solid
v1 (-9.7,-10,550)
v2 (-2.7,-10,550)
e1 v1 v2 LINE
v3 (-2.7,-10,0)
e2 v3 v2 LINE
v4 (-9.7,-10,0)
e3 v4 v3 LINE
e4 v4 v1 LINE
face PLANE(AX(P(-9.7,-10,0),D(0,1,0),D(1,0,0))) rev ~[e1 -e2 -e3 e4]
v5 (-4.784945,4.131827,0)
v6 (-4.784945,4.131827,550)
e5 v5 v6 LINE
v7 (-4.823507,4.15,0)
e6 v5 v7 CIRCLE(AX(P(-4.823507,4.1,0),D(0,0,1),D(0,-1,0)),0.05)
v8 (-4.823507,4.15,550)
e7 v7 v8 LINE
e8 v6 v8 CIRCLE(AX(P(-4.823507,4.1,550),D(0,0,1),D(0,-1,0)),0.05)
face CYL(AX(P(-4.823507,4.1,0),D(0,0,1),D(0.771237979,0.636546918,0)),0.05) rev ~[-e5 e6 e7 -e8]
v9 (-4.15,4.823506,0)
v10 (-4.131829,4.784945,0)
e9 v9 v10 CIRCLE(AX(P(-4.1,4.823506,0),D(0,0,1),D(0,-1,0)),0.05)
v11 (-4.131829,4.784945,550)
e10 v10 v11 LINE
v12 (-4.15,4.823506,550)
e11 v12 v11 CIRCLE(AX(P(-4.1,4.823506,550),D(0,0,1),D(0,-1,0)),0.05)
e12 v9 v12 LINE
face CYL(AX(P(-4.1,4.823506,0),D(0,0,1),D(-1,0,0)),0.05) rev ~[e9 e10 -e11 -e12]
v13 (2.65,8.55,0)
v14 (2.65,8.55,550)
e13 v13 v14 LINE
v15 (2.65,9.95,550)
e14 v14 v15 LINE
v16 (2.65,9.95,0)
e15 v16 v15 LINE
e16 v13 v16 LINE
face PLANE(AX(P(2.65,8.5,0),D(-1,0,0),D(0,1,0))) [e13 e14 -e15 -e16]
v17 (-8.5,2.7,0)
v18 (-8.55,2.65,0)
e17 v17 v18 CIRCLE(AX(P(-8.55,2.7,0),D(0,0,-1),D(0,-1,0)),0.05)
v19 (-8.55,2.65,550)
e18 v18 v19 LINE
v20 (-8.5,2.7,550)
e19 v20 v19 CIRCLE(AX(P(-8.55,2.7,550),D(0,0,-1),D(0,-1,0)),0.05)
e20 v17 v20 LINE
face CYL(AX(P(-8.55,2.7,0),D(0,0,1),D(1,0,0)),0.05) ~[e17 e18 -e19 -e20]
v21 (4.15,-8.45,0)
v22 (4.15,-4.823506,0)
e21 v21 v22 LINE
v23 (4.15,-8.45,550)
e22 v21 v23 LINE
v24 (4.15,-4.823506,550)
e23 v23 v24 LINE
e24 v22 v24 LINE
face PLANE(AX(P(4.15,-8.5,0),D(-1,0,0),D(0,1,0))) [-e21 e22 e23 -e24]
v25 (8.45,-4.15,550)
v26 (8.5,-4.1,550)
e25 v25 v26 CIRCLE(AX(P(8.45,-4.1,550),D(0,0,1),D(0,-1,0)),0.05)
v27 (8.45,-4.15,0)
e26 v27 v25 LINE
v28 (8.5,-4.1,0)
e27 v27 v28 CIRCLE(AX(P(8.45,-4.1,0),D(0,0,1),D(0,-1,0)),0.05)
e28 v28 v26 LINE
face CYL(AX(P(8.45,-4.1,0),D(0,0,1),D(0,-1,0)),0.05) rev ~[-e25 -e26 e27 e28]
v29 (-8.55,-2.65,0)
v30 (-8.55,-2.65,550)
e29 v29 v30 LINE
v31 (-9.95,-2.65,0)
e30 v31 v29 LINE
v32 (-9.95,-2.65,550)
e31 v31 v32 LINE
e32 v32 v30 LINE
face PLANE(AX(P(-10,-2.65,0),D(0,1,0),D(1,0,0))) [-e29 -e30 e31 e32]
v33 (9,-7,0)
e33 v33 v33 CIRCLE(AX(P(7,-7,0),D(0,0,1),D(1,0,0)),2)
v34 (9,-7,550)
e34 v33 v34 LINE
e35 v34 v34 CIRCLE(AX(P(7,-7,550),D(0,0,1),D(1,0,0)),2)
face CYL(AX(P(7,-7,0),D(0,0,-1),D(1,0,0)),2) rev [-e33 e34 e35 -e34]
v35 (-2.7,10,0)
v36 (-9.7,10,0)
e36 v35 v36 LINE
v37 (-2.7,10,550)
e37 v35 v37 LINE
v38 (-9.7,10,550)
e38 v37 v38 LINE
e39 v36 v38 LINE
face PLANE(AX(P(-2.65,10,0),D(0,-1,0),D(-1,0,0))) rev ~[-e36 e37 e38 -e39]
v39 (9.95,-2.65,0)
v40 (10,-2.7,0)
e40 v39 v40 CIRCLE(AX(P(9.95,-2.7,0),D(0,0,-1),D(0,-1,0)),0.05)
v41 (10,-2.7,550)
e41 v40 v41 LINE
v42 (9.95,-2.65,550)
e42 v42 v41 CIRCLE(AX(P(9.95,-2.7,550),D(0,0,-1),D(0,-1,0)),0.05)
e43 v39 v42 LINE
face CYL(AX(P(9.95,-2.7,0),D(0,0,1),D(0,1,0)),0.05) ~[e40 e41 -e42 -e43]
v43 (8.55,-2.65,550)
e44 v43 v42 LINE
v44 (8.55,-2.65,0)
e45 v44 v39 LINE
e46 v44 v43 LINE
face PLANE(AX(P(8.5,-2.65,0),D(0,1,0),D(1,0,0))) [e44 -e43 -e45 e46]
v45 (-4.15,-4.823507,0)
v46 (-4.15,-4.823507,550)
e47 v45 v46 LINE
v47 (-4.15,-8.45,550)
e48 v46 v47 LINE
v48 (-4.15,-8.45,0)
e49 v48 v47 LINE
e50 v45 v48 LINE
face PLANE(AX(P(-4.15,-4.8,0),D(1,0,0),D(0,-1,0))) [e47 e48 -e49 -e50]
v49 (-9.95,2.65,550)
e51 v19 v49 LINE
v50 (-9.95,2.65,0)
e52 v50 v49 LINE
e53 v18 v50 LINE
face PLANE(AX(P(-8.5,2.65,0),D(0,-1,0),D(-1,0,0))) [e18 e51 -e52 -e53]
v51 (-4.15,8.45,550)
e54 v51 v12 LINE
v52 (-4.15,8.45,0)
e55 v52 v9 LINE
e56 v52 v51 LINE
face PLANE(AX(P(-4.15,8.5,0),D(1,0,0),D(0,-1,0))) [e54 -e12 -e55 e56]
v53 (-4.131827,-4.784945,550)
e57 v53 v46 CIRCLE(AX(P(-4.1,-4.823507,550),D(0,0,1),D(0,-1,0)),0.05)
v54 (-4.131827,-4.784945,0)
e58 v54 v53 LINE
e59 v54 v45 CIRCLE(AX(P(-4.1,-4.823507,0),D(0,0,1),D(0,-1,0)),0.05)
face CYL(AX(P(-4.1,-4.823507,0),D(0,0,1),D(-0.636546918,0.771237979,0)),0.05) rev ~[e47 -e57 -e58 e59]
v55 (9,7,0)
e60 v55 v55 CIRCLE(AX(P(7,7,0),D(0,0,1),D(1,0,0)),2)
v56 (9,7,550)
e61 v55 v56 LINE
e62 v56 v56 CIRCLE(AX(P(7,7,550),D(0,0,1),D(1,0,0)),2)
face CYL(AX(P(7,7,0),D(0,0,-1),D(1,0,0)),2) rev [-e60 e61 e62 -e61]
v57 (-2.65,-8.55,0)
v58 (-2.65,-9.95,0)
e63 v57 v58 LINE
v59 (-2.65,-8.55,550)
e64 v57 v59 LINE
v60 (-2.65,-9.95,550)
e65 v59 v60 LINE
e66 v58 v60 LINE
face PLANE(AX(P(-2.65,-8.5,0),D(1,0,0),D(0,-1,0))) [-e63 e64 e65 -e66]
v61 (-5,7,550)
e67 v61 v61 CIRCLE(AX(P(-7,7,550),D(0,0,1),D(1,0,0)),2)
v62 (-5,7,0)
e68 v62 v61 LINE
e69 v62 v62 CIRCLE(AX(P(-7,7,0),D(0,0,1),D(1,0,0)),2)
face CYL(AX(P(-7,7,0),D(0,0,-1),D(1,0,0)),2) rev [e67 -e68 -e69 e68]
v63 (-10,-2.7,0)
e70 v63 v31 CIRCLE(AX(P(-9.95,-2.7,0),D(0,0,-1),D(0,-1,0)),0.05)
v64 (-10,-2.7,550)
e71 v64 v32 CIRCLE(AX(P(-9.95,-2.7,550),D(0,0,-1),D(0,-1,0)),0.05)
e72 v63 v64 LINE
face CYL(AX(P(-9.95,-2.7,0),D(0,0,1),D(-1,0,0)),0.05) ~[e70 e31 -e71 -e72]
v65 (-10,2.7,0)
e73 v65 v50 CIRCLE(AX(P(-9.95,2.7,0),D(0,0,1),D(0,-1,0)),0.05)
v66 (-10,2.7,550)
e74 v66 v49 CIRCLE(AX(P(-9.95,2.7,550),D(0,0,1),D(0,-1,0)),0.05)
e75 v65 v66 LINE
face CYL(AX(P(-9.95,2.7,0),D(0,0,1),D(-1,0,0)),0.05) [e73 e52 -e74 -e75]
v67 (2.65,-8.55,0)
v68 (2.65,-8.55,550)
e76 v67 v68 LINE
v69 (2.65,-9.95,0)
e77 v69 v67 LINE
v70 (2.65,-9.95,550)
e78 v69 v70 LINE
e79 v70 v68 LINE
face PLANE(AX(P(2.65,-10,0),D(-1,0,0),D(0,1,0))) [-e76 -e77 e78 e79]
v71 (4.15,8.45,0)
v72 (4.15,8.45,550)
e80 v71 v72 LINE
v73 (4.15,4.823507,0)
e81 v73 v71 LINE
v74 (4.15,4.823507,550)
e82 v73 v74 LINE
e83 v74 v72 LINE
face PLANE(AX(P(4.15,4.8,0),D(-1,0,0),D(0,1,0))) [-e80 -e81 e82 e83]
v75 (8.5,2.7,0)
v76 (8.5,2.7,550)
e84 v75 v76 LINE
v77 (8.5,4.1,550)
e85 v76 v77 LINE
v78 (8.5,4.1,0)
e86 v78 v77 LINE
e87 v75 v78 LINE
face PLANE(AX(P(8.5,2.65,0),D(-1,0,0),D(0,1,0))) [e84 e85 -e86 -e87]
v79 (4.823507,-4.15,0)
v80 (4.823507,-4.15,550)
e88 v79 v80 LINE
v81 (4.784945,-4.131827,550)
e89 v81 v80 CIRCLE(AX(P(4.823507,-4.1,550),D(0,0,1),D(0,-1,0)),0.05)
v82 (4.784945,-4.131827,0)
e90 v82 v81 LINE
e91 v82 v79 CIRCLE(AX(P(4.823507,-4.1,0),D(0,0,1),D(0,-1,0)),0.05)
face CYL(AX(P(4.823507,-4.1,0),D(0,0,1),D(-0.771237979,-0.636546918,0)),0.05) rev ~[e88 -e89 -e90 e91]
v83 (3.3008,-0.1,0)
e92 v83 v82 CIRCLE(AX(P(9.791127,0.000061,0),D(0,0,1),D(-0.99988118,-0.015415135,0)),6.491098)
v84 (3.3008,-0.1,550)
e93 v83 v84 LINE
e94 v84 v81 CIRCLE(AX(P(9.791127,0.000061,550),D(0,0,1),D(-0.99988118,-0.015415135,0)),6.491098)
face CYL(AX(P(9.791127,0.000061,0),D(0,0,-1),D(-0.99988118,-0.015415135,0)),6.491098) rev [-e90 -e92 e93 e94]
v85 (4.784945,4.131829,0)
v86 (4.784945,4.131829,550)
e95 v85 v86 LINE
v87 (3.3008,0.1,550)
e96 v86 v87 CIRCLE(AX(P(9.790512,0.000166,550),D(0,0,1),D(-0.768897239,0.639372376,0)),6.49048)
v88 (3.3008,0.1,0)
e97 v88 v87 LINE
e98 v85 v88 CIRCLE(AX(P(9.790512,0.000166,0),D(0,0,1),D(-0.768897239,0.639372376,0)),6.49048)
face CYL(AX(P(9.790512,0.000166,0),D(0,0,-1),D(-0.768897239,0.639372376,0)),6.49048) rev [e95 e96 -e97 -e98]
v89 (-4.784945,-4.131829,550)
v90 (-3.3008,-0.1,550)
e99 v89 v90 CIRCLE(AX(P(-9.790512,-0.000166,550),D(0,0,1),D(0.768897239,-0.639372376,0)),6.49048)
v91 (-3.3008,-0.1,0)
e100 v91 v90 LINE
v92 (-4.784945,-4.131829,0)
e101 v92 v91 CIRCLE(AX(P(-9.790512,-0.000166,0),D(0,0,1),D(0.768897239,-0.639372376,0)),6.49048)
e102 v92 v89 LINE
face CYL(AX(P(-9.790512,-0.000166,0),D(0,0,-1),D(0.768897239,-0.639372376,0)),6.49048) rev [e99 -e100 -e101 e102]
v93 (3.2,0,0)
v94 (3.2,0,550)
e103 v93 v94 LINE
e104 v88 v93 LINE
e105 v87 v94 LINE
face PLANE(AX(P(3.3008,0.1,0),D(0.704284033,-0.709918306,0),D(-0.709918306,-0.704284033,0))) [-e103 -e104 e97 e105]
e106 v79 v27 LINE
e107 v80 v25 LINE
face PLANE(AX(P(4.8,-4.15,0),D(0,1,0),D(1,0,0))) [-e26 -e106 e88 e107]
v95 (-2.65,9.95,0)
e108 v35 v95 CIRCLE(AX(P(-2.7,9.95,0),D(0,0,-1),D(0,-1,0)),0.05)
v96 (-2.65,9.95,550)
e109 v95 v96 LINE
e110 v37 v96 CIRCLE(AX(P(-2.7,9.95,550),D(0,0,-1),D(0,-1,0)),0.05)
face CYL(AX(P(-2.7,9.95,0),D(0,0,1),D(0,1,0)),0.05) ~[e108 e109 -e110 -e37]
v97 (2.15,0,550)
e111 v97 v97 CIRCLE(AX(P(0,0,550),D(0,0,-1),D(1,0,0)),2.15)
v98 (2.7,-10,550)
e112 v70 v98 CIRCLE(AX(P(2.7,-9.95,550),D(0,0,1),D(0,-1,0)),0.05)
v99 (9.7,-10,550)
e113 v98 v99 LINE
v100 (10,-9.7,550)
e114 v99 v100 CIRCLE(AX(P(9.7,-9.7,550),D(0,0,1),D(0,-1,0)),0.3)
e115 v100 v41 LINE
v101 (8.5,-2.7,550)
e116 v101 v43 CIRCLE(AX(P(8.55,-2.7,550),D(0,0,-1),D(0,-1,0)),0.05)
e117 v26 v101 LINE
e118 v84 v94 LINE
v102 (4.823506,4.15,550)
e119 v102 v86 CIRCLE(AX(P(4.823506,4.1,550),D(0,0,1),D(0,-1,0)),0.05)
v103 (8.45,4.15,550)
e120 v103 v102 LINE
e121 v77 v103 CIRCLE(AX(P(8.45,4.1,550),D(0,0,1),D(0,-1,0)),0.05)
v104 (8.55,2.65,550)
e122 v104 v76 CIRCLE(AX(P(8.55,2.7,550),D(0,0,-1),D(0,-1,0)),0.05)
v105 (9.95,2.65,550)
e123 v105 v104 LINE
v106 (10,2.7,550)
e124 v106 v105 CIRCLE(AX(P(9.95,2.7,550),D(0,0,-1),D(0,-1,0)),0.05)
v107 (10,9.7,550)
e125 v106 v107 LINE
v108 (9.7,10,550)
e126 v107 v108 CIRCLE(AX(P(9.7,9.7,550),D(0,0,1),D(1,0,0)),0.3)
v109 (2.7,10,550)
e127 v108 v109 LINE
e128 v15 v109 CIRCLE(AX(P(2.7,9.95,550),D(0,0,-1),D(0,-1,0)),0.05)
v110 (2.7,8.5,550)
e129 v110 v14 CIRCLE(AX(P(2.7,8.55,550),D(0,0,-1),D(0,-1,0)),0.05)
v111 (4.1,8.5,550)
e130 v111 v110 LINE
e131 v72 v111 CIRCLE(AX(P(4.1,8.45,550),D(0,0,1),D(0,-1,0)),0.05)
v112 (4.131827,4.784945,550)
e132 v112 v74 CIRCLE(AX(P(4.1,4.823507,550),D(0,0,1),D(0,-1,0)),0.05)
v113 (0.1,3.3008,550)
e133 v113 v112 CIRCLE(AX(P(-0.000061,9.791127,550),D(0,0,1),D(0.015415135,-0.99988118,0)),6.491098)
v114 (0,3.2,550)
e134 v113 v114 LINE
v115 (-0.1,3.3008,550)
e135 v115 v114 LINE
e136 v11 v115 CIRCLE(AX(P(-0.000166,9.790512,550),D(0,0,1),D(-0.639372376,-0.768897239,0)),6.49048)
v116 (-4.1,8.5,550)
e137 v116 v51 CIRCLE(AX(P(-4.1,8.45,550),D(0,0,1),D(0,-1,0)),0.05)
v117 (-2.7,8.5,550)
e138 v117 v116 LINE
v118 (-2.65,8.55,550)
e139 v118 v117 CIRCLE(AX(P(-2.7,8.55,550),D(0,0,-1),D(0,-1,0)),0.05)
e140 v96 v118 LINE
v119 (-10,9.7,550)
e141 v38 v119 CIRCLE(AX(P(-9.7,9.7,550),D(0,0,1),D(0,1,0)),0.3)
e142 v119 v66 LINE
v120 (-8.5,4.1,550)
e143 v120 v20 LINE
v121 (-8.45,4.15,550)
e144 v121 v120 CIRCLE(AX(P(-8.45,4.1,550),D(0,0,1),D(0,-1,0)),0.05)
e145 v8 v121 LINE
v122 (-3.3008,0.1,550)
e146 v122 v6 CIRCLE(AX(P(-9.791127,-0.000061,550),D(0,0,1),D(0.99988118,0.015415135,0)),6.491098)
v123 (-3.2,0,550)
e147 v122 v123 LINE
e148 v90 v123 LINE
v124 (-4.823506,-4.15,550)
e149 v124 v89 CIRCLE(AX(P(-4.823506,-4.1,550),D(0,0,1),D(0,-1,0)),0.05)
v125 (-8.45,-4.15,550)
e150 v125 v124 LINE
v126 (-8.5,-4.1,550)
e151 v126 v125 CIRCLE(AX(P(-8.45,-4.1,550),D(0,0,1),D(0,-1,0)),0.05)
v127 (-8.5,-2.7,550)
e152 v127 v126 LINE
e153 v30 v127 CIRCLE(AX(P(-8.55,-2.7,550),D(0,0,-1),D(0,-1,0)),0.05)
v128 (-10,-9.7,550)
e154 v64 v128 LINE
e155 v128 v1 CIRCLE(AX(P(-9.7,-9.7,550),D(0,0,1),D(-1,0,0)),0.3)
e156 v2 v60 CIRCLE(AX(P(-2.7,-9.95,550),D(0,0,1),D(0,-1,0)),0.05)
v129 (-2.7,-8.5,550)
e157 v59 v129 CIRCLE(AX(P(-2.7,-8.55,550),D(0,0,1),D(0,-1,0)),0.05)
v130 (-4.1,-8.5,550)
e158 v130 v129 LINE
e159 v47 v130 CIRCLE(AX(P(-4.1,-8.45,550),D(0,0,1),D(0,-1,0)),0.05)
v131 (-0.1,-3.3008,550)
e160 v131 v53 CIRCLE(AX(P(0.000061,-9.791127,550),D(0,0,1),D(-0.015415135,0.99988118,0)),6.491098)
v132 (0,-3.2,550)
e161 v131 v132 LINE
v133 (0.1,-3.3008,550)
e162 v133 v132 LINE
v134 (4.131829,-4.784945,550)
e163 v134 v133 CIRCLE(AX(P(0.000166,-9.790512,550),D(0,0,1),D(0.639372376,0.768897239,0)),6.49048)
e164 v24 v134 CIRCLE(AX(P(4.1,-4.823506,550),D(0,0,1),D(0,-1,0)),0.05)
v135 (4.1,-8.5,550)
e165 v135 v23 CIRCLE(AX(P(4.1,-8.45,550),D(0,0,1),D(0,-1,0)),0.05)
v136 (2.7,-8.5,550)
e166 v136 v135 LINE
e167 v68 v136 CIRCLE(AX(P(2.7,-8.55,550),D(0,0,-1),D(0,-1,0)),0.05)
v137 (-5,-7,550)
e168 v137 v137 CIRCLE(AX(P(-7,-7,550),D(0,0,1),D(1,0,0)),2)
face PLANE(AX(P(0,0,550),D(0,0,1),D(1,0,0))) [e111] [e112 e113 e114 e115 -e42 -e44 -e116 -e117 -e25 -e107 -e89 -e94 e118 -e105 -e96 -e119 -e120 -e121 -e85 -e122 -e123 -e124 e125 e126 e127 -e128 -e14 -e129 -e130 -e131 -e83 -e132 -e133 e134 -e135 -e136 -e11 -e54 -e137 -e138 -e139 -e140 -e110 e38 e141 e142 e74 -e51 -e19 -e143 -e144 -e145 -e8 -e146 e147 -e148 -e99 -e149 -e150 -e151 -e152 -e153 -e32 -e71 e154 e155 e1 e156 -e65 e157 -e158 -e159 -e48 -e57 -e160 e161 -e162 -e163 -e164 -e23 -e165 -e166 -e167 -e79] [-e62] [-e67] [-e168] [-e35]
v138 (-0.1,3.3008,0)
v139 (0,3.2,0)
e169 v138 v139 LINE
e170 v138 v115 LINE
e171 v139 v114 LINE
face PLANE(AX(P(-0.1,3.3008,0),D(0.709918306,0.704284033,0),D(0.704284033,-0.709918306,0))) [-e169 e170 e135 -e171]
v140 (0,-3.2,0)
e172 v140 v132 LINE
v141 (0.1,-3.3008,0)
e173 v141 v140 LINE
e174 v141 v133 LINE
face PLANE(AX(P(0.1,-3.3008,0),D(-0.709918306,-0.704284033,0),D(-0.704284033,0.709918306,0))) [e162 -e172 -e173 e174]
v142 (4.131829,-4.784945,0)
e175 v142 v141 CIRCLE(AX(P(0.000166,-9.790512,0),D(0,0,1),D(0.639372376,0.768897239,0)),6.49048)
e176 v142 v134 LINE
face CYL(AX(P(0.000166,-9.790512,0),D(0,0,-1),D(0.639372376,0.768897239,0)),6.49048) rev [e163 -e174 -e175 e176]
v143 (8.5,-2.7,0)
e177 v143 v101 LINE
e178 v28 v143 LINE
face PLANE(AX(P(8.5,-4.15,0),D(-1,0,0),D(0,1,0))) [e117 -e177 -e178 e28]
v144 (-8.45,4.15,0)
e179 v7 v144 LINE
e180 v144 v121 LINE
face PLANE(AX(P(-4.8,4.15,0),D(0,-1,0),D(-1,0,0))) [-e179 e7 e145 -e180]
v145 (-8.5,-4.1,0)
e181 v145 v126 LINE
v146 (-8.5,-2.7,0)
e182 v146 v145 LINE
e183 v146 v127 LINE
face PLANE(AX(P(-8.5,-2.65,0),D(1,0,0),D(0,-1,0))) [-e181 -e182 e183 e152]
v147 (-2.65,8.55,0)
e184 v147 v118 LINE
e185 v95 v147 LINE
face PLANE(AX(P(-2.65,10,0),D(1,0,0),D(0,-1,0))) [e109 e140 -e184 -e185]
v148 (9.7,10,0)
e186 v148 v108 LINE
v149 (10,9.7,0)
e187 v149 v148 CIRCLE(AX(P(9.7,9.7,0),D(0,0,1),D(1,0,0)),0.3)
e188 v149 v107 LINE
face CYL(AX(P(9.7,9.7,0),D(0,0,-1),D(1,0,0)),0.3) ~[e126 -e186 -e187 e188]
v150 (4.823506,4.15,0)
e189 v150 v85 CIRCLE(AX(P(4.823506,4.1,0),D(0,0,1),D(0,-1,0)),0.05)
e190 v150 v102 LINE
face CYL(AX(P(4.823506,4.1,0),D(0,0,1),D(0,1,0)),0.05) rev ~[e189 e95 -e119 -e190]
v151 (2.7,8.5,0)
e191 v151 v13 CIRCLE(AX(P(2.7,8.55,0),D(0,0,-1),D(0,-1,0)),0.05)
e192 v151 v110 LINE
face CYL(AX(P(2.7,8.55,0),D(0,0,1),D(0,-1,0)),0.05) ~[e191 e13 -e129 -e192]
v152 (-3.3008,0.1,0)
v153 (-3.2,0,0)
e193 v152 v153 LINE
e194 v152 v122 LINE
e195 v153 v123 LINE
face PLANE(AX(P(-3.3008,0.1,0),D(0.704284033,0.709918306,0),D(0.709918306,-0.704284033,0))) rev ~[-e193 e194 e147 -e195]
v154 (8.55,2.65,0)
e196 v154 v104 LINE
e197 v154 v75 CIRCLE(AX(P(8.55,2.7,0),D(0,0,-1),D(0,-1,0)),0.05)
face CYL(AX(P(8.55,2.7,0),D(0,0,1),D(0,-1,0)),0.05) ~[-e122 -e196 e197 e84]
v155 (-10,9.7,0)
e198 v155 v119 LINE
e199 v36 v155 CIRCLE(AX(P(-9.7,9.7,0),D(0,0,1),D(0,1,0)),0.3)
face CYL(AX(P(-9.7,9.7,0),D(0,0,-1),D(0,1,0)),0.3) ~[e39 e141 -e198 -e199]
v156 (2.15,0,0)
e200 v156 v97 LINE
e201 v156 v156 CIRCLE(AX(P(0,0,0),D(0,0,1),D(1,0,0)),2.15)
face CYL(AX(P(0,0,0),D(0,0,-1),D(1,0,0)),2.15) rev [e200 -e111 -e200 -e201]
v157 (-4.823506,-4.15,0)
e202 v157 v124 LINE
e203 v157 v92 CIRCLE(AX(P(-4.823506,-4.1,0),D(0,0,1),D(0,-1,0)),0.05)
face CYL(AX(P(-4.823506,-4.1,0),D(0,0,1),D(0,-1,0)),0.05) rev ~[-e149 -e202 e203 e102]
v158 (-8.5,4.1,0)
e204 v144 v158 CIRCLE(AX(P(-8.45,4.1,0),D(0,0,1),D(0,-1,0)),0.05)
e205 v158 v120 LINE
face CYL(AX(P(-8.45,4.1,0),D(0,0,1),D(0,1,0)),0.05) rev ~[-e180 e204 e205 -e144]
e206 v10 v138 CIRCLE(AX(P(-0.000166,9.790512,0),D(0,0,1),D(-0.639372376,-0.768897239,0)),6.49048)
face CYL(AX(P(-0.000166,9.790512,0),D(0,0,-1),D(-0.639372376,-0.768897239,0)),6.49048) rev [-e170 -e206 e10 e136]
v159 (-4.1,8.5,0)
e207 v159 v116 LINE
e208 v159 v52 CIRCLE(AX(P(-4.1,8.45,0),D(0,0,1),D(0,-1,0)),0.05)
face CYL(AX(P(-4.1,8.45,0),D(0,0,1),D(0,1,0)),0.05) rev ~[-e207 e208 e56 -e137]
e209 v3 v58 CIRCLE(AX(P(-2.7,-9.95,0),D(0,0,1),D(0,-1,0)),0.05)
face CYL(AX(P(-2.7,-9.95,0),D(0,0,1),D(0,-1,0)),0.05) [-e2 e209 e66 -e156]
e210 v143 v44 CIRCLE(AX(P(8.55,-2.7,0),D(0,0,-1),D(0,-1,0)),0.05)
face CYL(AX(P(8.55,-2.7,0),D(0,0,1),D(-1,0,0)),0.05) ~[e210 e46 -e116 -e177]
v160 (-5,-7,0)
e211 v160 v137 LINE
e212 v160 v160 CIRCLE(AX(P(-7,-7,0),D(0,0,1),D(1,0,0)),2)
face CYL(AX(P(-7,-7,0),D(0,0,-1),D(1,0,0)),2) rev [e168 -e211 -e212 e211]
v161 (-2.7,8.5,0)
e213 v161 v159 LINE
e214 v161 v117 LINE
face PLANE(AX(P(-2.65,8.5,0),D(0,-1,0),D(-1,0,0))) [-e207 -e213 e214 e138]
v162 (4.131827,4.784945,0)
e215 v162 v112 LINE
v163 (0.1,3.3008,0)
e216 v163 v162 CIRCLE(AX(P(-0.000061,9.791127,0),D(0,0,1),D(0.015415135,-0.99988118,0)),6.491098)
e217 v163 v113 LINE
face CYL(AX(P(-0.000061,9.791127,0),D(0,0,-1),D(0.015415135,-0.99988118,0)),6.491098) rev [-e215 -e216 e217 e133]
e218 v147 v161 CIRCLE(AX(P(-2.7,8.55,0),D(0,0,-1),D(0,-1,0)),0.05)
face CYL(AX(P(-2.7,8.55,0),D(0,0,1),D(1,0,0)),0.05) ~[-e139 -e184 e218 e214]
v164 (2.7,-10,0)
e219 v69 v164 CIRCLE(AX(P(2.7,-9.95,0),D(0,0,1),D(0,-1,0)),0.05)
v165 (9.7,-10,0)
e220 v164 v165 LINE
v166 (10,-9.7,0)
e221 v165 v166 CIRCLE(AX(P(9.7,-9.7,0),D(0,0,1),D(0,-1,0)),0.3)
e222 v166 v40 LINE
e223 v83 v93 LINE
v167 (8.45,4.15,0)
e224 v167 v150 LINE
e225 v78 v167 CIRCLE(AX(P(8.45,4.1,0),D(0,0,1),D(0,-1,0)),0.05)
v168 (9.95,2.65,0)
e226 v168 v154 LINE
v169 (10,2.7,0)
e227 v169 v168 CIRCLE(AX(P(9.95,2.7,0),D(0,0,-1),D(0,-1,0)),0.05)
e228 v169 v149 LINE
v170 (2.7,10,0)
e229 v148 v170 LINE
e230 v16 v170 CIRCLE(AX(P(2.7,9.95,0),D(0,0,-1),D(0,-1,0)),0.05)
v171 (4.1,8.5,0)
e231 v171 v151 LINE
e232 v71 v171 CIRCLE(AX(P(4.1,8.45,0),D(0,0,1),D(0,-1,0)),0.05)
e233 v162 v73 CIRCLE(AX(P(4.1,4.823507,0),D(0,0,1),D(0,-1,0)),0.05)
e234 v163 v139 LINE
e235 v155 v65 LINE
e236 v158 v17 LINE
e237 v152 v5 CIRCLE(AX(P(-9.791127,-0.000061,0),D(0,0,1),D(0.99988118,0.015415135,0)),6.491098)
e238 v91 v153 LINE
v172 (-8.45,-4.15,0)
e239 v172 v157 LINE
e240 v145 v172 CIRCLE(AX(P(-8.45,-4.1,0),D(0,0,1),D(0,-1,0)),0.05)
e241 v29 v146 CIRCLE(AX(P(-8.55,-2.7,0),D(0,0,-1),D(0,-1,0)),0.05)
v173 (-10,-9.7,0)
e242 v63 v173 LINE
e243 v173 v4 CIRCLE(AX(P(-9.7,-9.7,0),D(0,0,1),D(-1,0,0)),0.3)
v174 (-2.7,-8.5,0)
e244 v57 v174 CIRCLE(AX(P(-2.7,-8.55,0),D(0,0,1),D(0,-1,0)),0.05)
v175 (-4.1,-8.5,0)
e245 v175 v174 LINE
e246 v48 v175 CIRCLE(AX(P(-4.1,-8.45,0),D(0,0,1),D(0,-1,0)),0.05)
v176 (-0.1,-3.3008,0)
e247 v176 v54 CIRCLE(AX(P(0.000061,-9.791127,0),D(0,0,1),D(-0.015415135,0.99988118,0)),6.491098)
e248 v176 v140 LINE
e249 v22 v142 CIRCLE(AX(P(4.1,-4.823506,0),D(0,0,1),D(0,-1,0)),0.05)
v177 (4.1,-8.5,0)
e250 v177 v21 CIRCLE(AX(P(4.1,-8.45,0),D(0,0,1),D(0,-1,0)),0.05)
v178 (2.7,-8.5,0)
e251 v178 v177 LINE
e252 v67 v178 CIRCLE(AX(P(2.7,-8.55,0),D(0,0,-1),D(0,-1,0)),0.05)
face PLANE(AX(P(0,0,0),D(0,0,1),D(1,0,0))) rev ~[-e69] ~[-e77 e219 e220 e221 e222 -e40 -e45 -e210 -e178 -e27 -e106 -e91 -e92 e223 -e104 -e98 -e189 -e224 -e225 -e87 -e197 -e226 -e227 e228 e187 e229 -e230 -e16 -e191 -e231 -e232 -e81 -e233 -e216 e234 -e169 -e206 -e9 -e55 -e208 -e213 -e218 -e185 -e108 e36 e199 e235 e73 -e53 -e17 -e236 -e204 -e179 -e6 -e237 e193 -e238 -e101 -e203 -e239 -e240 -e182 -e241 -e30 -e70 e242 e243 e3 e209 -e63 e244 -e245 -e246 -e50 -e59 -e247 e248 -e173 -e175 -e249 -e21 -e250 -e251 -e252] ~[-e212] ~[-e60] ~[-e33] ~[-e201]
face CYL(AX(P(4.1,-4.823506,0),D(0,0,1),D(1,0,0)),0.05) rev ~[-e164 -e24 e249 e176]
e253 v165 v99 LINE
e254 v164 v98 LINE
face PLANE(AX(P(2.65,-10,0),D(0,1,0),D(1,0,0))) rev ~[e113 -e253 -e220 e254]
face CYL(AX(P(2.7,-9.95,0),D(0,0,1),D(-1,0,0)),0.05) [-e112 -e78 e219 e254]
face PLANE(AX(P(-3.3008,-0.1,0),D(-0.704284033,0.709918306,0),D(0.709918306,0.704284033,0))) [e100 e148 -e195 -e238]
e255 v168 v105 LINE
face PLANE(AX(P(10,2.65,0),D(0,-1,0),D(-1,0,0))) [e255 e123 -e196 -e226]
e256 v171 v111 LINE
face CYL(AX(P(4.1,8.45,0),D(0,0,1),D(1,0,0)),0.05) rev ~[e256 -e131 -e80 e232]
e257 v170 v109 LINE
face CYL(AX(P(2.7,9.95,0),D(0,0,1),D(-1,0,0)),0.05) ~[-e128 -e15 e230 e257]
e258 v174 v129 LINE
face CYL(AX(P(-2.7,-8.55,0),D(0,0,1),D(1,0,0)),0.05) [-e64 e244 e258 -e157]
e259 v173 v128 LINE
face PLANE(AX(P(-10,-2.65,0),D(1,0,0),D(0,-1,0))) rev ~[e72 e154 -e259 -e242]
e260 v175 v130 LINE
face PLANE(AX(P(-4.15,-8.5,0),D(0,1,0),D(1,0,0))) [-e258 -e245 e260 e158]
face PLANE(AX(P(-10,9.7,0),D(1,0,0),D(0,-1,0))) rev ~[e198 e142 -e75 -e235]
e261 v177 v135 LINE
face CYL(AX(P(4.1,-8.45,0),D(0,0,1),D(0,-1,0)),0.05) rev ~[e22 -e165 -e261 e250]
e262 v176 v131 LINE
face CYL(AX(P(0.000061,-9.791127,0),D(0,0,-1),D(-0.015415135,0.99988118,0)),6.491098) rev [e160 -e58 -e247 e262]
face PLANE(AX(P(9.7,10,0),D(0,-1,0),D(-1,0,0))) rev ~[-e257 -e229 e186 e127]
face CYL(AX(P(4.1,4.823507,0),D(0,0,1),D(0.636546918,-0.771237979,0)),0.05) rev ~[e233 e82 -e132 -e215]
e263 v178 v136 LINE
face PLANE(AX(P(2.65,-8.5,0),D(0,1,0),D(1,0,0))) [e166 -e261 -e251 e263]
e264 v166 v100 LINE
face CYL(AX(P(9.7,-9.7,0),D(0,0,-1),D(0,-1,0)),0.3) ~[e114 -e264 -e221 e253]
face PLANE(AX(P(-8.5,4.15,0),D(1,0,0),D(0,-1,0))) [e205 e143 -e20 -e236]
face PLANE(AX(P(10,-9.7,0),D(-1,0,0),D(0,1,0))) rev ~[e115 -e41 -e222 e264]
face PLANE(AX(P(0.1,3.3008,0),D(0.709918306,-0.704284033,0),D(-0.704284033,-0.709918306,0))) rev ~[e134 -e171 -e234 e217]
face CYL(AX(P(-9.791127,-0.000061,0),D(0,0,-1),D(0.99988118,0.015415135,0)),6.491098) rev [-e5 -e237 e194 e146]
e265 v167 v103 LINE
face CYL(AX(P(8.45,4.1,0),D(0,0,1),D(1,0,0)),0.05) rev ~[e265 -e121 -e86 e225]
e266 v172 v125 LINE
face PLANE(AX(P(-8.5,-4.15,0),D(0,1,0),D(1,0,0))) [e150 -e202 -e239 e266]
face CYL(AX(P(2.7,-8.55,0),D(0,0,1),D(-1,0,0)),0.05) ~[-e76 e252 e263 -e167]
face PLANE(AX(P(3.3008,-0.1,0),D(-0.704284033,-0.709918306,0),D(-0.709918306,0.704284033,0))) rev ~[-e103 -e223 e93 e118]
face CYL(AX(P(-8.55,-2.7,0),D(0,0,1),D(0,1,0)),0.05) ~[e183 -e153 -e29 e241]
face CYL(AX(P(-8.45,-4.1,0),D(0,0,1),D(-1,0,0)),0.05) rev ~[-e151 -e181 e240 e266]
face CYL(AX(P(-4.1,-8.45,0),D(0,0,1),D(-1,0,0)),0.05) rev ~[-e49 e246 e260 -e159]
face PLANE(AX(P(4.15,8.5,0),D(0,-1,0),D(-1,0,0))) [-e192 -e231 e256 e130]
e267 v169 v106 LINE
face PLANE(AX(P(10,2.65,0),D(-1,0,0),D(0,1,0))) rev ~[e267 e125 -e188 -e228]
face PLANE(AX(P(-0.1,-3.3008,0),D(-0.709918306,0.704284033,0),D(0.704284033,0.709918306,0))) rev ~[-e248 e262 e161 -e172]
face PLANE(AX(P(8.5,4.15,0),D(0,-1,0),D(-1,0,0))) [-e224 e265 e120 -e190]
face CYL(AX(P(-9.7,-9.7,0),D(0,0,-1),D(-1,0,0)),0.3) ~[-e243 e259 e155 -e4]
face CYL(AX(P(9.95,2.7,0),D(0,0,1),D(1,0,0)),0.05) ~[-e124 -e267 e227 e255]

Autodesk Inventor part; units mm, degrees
ref_plane "YZ Plane" through (0, 0, 0) normal (1, 0, 0) x (0, 1, 0)
ref_plane "XZ Plane" through (0, 0, 0) normal (0, 1, 0) x (-1, 0, 0)
ref_plane "XY Plane" through (0, 0, 0) normal (0, 0, 1) x (1, 0, 0)
sketch "스케치1" plane through (0, 0, 0) normal (0, 0, 1) x (1, 0, 0)
  line L0 (-9.7, -10) -> (9.7, -10)
  line L1 (10, -9.7) -> (10, 9.7)
  line L2 (9.7, 10) -> (-9.7, 10)
  line L3 (-10, 9.7) -> (-10, -9.7)
  line L4 (-10, -10) -> (10, 10) construction
  line L5 (10, -10) -> (-10, 10) construction
  circle A0 centre (-7, 7) radius 2
  line L6 (0, 15.6683) -> (0, -20)
  line L7 (-22.0072, 0) -> (22.0072, 0)
  circle A1 centre (0, 0) radius 2.15
  arc A2 (-9.7, 10) -> (-10, 9.7) centre (-9.7, 9.7) ccw
  arc A3 (10, 9.7) -> (9.7, 10) centre (9.7, 9.7) ccw
  arc A4 (9.7, -10) -> (10, -9.7) centre (9.7, -9.7) ccw
  arc A5 (-10, -9.7) -> (-9.7, -10) centre (-9.7, -9.7) ccw
  line L8 (-2.65, 10) -> (-2.65, 8.5)
  line L9 (-2.65, 8.5) -> (-4.15, 8.5)
  line L10 (-4.15, 8.5) -> (-4.15, 4.8)
  line L11 (4.15, 4.8) -> (4.15, 8.5)
  line L12 (4.15, 8.5) -> (2.65, 8.5)
  line L13 (2.65, 8.5) -> (2.65, 10)
  line L14 (-0.1, 3.3008) -> (0, 3.2)
  line L15 (0.1, 3.3008) -> (0, 3.2)
  arc A6 (-4.15, 4.8) -> (-0.1, 3.3008) centre (0, 9.7908) ccw
  arc A7 (0.1, 3.3008) -> (4.15, 4.8) centre (0, 9.7908) ccw
  circle A8 centre (7, 7) radius 2
  circle A9 centre (-7, -7) radius 2
  circle A10 centre (7, -7) radius 2
  line L16 (-3.3008, 0.1) -> (-3.2, 0)
  line L17 (-3.3008, -0.1) -> (-3.2, 0)
  arc A11 (-4.8, -4.15) -> (-3.3008, -0.1) centre (-9.7908, 0) ccw
  line L18 (-8.5, -4.15) -> (-4.8, -4.15)
  line L19 (-10, -2.65) -> (-8.5, -2.65)
  line L20 (-8.5, 2.65) -> (-10, 2.65)
  arc A12 (-3.3008, 0.1) -> (-4.8, 4.15) centre (-9.7908, 0) ccw
  line L21 (-4.8, 4.15) -> (-8.5, 4.15)
  line L22 (-8.5, 4.15) -> (-8.5, 2.65)
  line L23 (-8.5, -2.65) -> (-8.5, -4.15)
  line L24 (-0.1, -3.3008) -> (0, -3.2)
  line L25 (0.1, -3.3008) -> (0, -3.2)
  arc A13 (4.15, -4.8) -> (0.1, -3.3008) centre (0, -9.7908) ccw
  line L26 (4.15, -8.5) -> (4.15, -4.8)
  line L27 (2.65, -10) -> (2.65, -8.5)
  line L28 (-2.65, -8.5) -> (-2.65, -10)
  arc A14 (-0.1, -3.3008) -> (-4.15, -4.8) centre (0, -9.7908) ccw
  line L29 (-4.15, -4.8) -> (-4.15, -8.5)
  line L30 (-4.15, -8.5) -> (-2.65, -8.5)
  line L31 (2.65, -8.5) -> (4.15, -8.5)
  line L32 (3.3008, -0.1) -> (3.2, 0)
  line L33 (3.3008, 0.1) -> (3.2, 0)
  arc A15 (4.8, 4.15) -> (3.3008, 0.1) centre (9.7908, 0) ccw
  line L34 (8.5, 4.15) -> (4.8, 4.15)
  line L35 (10, 2.65) -> (8.5, 2.65)
  line L36 (8.5, -2.65) -> (10, -2.65)
  arc A16 (3.3008, -0.1) -> (4.8, -4.15) centre (9.7908, 0) ccw
  line L37 (4.8, -4.15) -> (8.5, -4.15)
  line L38 (8.5, -4.15) -> (8.5, -2.65)
  line L39 (8.5, 2.65) -> (8.5, 4.15)
  point P0 (2.65, 9.25)
  point P1 (-2.65, 9.25)
  point P2 (-4.15, 6.65)
  point P3 (0, 3.3)
  point P4 (-3.3, 0)
  point P5 (-9.25, -2.65)
  point P6 (-6.65, -4.15)
  point P7 (-9.25, 2.65)
  point P8 (0, -3.3)
  point P9 (2.65, -9.25)
  point P10 (4.15, -6.65)
  point P11 (-2.65, -9.25)
  point P12 (3.3, 0)
  point P13 (9.25, 2.65)
  point P14 (6.65, 4.15)
  point P15 (9.25, -2.65)
  dimension "d0" = 20
  dimension "d1" = 20
  dimension "d2" = 4
  dimension "d3" = 14
  dimension "d4" = 14
  dimension "d5" = 4.3
  dimension "d6" = 0.3
  dimension "d9" = 8.3
  dimension "d10" = 5.3
  dimension "d11" = 5.3
  dimension "d12" = 1.5
  dimension "d15" = 0.1
  dimension "d16" = 0.1
  dimension "d17" = 0.1
  dimension "d19" = 3.7
  dimension "d22" = 360
extrude "프로파일 길이 설정" add sketch "스케치1" along normal blind 550 contours A5 L3 L19 L23 L18 A11 L17 L7 A1 L6 L24 A14 L29 L30 L28 L0 | L27 L31 L26 A13 L25 L6 A1 L7 L32 A16 L37 L38 L36 L1 A4 L0 | L3 A2 L2 L8 L9 L10 A6 L14 L6 A1 L7 L16 A12 L21 L22 L20 | A1 L6 L15 A7 L11 L12 L13 L2 A3 L1 L35 L39 L34 A15 L33 L7
fillet "모서리" radius 0.05 32 edges at (10, 2.65, 275) (8.5, 2.65, 275) (8.5, 4.15, 275) (10, -2.65, 275) (8.5, -2.65, 275) (8.5, -4.15, 275) (2.65, 8.5, 275) (2.65, 10, 275) (4.15, 8.5, 275) (-4.15, 8.5, 275) (-2.65, 8.5, 275) (-2.65, 10, 275) (-10, 2.65, 275) (-8.5, 2.65, 275) (-8.5, 4.15, 275) (-8.5, -4.15, 275) (-8.5, -2.65, 275) (-10, -2.65, 275) (-2.65, -10, 275) (-2.65, -8.5, 275) (-4.15, -8.5, 275) (2.65, -8.5, 275) (4.15, -8.5, 275) (2.65, -10, 275) (4.15, -4.8, 275) (-4.15, -4.8, 275) (-4.8, -4.15, 275) (-4.8, 4.15, 275) (-4.15, 4.8, 275) (4.15, 4.8, 275) (4.8, -4.15, 275) (4.8, 4.15, 275)
equation "\"d0\" = d1"
equation "\"d11\" = d10"
equation "\"d17\" = d16"
properties part number "20x20x550"
